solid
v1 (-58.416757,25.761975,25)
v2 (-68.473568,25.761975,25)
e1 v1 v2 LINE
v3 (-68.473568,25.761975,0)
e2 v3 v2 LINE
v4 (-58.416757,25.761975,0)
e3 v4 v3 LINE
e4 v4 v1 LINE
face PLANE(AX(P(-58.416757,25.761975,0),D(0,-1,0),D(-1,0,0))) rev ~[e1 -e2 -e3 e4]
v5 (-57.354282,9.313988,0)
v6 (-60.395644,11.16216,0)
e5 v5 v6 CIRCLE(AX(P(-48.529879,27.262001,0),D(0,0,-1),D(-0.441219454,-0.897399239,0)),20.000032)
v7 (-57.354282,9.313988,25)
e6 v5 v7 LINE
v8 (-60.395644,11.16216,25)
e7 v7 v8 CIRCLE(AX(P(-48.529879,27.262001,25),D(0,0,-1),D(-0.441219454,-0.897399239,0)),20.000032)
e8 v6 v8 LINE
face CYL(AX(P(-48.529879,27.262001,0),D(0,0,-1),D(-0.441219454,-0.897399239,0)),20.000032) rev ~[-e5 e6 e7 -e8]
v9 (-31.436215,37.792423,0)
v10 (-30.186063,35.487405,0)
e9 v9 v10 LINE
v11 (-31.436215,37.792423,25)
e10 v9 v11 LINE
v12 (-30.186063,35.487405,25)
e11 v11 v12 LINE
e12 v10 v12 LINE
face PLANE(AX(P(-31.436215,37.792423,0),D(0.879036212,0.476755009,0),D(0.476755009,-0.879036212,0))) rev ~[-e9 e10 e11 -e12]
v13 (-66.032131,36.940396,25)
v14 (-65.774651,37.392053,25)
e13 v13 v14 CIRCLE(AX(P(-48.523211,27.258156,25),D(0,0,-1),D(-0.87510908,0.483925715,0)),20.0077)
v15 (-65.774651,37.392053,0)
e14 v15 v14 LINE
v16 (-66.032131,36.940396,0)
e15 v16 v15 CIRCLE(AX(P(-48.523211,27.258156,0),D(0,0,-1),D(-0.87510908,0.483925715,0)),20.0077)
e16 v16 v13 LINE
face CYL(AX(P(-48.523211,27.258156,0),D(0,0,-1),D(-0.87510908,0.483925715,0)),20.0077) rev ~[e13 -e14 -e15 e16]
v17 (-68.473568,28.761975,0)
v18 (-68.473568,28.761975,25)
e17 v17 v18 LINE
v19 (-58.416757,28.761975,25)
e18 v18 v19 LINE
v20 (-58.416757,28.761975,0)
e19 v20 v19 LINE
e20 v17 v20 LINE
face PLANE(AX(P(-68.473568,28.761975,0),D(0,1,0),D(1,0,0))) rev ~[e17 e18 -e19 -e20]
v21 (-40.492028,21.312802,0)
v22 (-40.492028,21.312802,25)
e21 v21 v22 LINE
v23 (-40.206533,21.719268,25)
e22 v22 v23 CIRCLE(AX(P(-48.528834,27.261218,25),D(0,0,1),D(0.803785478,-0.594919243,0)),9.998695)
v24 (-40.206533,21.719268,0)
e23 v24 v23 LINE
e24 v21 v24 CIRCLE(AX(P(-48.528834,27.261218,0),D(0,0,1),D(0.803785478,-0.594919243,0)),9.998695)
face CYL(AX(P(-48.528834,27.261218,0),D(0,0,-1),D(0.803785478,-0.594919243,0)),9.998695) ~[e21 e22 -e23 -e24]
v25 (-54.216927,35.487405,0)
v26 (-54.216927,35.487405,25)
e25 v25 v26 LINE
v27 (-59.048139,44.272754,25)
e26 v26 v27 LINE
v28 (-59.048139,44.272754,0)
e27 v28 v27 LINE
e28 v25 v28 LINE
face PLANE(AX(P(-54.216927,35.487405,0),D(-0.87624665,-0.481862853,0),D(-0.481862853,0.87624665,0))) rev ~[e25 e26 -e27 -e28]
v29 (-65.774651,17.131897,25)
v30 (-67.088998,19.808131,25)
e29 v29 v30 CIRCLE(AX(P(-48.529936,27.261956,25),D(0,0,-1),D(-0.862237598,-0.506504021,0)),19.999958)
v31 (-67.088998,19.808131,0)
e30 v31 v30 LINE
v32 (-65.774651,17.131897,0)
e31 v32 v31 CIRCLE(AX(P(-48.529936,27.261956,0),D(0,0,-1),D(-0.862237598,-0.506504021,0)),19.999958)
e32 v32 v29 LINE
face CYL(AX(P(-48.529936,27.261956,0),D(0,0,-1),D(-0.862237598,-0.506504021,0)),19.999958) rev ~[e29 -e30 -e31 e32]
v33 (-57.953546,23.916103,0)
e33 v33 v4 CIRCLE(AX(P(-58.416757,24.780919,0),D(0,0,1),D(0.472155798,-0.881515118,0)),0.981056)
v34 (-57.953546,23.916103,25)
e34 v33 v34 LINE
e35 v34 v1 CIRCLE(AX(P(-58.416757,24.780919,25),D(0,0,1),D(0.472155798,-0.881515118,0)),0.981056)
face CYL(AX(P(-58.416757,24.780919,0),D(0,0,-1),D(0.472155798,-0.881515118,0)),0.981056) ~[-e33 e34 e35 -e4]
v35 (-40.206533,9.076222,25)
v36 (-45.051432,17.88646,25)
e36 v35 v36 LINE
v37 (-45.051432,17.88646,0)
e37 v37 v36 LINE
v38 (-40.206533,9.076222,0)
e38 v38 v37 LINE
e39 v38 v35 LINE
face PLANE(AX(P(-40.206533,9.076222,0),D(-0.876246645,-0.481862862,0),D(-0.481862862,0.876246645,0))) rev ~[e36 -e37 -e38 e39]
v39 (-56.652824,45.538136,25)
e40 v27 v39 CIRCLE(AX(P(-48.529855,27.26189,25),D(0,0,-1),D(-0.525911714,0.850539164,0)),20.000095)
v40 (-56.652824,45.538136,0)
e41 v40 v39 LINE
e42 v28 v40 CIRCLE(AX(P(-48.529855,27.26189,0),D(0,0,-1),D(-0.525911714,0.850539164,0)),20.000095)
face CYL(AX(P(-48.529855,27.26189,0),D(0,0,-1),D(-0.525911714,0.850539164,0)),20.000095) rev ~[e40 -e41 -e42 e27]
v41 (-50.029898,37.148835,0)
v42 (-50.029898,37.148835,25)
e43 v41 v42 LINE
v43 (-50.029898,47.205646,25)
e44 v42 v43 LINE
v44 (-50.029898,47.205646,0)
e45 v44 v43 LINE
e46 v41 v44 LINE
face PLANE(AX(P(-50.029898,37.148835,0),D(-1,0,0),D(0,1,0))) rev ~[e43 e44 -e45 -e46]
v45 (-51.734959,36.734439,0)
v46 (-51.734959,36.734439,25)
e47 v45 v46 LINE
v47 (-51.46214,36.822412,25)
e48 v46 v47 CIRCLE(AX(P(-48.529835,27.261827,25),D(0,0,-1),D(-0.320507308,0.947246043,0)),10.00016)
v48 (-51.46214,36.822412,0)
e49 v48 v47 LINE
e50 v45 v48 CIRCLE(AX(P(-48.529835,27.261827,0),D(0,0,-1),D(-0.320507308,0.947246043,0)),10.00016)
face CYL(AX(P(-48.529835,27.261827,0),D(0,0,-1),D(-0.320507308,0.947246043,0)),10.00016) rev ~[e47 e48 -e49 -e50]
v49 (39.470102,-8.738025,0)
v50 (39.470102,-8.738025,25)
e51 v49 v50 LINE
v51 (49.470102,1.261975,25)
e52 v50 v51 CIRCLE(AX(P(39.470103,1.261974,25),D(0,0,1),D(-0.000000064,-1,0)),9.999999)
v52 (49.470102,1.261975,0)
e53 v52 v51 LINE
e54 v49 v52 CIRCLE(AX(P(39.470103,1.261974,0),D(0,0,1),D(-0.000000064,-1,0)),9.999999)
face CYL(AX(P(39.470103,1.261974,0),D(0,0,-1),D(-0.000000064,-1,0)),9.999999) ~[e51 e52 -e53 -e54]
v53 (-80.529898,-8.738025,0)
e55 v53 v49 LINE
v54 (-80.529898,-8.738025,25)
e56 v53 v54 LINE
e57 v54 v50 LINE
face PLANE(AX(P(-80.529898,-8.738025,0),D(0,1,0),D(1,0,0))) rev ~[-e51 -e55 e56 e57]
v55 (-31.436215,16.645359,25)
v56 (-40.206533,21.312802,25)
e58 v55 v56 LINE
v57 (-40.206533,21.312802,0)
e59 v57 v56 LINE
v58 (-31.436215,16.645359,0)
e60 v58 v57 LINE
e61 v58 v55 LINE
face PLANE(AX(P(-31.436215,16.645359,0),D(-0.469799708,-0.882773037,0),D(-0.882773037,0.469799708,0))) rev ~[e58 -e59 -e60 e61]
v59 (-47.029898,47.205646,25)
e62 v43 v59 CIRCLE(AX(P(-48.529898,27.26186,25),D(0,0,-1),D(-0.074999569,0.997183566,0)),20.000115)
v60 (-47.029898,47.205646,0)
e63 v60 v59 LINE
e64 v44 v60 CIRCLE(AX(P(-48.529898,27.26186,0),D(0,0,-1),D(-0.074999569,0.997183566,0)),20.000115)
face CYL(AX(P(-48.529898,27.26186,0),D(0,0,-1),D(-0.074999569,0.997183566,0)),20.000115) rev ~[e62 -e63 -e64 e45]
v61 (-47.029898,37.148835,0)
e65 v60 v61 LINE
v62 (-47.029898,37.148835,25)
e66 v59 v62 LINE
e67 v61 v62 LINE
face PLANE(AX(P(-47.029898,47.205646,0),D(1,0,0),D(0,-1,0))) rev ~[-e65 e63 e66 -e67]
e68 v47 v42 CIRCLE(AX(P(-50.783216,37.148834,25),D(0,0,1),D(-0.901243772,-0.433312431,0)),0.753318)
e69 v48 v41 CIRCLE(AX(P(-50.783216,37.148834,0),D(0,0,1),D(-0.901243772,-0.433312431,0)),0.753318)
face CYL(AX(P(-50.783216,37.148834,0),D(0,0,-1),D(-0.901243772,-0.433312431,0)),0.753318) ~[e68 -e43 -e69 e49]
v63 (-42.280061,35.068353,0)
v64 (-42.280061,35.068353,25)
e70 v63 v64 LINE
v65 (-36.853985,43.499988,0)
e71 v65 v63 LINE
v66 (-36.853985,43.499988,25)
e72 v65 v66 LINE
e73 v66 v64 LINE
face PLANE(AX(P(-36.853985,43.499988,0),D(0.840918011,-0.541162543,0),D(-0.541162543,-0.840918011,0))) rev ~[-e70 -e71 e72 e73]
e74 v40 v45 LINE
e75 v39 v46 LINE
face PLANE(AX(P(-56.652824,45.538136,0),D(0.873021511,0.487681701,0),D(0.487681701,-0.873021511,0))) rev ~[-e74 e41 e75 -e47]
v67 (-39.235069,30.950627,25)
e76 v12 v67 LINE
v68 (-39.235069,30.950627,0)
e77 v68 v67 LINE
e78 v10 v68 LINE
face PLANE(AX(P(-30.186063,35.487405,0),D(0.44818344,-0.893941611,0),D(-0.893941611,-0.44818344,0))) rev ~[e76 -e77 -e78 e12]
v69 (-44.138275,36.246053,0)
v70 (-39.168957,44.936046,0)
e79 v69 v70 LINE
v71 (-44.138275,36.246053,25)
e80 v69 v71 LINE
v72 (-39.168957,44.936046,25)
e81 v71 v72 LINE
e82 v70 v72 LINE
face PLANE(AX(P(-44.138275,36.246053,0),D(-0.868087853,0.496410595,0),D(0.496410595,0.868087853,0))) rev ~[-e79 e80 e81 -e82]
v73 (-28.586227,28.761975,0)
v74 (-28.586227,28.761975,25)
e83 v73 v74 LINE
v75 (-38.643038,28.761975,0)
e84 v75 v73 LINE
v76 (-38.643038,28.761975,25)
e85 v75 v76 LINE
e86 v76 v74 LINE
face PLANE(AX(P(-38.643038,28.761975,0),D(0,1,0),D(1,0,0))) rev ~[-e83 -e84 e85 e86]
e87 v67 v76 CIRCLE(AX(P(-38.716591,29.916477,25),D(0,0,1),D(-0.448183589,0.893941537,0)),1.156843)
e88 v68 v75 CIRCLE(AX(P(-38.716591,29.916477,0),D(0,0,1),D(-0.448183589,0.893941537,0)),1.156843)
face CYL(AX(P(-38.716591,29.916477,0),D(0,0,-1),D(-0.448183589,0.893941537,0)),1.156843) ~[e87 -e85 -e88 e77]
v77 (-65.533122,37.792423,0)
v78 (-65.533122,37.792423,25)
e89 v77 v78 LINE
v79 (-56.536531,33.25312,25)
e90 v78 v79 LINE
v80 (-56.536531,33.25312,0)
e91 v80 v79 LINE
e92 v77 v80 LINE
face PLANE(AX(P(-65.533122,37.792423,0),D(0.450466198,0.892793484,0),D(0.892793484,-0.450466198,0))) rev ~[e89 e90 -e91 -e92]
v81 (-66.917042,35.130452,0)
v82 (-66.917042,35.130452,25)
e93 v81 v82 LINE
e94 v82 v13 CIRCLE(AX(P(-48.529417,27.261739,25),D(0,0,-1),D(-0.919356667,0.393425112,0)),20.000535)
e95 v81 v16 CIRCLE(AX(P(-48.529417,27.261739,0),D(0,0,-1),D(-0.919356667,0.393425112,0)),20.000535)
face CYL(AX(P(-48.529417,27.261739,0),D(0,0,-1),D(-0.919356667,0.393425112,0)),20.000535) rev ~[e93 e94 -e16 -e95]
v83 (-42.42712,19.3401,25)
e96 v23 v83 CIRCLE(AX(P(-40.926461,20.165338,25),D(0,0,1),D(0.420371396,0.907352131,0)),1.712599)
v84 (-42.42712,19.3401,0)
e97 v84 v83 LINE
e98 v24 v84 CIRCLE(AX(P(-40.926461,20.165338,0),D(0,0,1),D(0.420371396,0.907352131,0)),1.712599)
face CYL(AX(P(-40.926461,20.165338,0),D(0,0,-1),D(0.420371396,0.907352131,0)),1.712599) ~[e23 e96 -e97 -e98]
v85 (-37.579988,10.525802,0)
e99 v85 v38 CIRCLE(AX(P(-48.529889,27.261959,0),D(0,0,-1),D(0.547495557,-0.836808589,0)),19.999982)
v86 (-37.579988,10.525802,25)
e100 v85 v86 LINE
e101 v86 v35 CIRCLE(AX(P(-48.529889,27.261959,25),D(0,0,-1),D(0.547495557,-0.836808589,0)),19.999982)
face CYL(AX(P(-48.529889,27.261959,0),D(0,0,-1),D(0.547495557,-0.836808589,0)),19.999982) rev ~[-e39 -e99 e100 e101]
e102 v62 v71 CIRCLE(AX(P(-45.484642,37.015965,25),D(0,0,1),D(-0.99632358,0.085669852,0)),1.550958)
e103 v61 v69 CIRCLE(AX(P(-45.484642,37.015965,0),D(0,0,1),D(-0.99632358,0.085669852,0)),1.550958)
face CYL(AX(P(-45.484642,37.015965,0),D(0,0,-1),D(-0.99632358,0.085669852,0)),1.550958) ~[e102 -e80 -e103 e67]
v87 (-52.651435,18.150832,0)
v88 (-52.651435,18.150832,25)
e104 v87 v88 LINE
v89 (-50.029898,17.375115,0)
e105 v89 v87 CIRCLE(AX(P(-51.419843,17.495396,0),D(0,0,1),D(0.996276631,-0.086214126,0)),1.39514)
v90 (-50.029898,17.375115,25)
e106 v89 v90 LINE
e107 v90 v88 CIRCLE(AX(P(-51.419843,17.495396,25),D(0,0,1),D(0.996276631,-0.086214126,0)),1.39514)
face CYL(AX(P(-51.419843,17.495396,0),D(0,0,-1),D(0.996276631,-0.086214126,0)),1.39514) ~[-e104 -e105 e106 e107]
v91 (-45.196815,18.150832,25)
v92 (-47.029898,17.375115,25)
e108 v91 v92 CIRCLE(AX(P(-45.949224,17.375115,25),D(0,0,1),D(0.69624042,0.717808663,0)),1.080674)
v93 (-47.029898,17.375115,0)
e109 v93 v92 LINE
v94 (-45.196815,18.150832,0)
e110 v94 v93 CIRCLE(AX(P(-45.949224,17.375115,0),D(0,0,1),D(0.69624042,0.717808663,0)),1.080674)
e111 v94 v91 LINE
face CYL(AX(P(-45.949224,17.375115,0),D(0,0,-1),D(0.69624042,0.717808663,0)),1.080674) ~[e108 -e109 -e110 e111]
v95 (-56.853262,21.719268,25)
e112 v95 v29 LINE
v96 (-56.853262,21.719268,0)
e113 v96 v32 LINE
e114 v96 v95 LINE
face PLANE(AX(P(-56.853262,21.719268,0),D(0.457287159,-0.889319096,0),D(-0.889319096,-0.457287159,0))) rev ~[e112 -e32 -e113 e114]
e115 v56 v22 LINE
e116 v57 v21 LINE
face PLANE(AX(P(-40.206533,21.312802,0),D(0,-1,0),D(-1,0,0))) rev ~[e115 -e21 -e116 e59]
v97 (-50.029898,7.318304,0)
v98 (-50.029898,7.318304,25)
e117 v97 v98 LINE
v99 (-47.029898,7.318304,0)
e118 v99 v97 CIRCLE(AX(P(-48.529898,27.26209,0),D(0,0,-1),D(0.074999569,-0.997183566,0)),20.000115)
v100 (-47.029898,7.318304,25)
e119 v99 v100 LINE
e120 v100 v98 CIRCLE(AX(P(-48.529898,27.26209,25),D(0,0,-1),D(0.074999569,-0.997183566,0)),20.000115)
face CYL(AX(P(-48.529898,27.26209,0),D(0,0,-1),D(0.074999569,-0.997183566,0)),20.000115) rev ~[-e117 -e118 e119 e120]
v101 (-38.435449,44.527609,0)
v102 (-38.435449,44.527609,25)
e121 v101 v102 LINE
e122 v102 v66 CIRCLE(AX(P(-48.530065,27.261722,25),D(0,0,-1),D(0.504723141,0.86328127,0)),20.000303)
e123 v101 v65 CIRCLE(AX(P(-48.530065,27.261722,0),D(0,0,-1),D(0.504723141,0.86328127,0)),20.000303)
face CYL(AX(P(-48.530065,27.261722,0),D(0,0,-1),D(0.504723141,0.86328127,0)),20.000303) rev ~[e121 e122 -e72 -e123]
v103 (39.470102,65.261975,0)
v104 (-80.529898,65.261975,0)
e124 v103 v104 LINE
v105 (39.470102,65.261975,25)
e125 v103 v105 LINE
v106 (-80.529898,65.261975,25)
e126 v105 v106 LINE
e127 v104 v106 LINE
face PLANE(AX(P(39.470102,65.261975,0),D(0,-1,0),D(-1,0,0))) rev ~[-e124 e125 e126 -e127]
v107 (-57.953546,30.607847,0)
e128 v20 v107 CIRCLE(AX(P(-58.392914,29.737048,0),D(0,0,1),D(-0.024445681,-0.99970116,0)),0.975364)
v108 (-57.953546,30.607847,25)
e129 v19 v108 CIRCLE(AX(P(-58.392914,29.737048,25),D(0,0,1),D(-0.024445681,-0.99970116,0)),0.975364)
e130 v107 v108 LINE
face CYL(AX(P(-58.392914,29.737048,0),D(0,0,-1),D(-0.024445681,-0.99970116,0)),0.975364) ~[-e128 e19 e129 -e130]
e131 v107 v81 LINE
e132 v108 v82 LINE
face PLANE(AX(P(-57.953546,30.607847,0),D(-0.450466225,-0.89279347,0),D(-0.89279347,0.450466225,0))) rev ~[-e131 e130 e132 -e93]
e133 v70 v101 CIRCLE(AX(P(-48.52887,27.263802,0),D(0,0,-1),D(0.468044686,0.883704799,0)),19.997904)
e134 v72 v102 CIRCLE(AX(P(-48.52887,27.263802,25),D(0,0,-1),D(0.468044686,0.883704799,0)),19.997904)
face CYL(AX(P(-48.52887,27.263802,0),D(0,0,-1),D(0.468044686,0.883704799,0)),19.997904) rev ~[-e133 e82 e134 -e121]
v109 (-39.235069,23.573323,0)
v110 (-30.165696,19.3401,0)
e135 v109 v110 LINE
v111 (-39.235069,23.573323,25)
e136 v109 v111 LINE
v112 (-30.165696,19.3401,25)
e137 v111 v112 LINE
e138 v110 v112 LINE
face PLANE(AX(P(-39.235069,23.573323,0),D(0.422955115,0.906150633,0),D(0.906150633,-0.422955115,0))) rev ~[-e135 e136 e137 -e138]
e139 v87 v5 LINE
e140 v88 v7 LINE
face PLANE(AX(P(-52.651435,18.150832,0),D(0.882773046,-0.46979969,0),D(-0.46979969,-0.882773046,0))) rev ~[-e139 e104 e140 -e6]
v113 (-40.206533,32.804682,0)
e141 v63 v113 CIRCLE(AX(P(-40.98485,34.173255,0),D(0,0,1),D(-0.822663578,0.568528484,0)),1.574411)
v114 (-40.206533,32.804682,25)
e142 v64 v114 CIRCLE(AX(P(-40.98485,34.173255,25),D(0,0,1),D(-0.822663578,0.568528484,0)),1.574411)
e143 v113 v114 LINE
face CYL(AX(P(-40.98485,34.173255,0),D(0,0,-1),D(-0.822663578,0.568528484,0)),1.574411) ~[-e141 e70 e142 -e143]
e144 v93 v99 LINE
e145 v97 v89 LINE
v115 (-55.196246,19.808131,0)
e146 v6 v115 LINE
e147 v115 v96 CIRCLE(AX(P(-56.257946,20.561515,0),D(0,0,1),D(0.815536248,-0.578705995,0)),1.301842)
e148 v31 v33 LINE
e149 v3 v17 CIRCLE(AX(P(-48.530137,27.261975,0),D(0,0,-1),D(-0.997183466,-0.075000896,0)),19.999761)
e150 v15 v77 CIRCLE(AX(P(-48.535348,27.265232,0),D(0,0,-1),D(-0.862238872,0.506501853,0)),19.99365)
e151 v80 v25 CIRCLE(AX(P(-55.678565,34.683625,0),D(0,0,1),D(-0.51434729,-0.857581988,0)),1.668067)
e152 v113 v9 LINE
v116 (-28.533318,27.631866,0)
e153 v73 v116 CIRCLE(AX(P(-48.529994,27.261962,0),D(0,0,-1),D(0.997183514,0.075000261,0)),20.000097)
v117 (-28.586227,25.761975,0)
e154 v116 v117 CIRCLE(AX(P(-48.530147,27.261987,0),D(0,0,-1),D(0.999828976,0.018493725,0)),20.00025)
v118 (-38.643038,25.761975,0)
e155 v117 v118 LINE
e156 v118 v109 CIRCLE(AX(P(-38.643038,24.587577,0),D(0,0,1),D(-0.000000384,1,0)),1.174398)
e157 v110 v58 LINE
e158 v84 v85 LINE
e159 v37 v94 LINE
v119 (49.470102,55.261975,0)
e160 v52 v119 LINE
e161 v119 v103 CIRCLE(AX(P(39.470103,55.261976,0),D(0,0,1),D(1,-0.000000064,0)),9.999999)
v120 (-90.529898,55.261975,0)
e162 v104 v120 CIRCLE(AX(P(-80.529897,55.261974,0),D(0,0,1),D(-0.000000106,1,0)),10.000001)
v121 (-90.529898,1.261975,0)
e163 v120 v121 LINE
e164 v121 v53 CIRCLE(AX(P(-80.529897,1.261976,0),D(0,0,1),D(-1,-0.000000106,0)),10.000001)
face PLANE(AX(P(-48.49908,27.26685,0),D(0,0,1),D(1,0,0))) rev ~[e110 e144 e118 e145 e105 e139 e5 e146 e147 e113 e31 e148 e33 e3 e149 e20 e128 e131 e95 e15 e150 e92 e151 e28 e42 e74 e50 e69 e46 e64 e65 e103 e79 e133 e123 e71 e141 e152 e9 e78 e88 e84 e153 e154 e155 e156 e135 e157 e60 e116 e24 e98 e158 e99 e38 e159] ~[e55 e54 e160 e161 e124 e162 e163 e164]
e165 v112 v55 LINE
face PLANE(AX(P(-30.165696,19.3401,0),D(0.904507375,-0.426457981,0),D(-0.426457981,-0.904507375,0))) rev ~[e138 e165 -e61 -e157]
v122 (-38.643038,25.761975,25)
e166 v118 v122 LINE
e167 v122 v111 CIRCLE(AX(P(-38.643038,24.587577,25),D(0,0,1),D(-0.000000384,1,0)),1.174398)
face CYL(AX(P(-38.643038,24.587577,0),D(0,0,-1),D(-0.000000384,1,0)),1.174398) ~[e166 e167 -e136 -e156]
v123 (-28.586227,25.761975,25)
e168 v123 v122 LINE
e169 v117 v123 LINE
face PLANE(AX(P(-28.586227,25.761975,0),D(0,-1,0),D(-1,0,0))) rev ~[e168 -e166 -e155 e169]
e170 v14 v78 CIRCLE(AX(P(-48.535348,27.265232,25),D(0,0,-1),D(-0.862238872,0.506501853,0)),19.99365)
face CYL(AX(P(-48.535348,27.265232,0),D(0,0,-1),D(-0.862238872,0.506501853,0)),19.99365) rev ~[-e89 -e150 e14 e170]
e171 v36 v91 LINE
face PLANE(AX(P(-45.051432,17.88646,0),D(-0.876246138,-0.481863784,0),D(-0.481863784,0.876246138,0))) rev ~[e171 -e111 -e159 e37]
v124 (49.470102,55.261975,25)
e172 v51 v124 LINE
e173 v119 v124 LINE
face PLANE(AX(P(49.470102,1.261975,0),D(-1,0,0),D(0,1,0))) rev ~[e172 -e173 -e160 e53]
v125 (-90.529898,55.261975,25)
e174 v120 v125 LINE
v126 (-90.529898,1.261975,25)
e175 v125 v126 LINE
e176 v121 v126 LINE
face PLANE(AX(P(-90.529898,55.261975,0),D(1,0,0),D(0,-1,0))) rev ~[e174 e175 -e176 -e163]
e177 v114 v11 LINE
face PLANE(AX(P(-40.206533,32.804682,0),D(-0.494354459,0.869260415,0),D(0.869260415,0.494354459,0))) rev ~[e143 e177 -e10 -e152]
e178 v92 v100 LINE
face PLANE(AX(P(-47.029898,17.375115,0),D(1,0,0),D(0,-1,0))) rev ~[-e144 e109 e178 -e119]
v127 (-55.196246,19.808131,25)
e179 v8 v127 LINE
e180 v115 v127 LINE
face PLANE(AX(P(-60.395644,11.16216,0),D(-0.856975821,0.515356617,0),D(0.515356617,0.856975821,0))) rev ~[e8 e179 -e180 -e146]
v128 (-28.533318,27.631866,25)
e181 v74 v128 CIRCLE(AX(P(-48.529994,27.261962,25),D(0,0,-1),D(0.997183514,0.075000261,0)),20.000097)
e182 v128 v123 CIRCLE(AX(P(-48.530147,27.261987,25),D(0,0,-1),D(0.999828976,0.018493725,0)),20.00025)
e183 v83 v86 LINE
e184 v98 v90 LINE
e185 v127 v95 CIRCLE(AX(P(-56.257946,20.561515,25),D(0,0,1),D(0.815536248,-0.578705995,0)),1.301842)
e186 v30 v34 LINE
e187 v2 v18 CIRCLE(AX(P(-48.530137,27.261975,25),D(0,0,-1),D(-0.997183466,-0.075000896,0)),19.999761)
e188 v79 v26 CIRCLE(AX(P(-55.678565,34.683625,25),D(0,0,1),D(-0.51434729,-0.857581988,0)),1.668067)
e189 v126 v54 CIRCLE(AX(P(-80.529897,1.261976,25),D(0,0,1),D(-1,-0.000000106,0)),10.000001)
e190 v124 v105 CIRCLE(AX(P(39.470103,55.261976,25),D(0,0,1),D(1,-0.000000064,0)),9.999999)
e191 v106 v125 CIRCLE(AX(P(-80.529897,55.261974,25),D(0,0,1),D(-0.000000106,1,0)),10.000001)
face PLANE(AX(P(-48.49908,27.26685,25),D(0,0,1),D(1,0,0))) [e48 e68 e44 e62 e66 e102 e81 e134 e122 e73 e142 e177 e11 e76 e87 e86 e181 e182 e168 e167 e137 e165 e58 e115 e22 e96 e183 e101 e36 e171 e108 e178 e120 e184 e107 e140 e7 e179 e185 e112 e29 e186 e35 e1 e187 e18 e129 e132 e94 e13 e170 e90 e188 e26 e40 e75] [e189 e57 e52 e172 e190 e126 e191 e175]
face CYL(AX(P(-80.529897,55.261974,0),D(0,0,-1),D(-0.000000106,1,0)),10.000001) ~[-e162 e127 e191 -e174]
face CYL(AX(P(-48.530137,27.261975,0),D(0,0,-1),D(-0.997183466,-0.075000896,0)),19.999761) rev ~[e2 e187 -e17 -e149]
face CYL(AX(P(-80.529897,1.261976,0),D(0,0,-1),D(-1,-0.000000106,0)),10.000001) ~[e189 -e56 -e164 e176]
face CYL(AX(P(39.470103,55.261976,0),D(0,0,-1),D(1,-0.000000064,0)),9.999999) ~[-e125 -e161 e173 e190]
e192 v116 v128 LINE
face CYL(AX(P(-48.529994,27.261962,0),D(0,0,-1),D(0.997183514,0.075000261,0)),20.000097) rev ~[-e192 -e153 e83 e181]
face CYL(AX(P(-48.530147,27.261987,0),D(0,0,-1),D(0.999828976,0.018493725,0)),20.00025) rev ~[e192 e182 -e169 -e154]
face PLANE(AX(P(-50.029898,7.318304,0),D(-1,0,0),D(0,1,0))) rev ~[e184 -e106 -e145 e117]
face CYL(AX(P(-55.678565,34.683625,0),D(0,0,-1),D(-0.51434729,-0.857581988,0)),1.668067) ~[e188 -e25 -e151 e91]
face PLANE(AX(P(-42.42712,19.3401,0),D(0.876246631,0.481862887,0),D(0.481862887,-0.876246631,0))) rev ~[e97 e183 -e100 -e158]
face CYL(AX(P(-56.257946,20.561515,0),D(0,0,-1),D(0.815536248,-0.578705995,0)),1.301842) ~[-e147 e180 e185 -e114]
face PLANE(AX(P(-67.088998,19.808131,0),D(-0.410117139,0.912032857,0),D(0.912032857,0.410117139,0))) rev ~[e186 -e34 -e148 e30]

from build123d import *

# Parameters (mm, degrees)
F1_DEPTH = 25


with BuildPart() as f1:
    # F0 (on Top) → F1 (new body)
    with BuildSketch(Plane.XY):
        with BuildLine():
            ThreePointArc((-57.953546, 30.607847), (-57.446882, 29.499646), (-58.416757, 28.761975))
            ThreePointArc((-58.416757, 28.761975), (-58.529898, 27.261975), (-58.416757, 25.761975))
            ThreePointArc((-58.416757, 25.761975), (-57.465205, 25.019706), (-57.953546, 23.916103))
            ThreePointArc((-57.953546, 23.916103), (-57.47113, 22.783765), (-56.853262, 21.719268))
            ThreePointArc((-56.853262, 21.719268), (-55.274335, 21.414336), (-55.196246, 19.808131))
            ThreePointArc((-55.196246, 19.808131), (-53.98712, 18.882314), (-52.651435, 18.150832))
            ThreePointArc((-52.651435, 18.150832), (-51.023986, 18.833197), (-50.029898, 17.375115))
            ThreePointArc((-50.029898, 17.375115), (-48.529898, 17.261975), (-47.029898, 17.375115))
            ThreePointArc((-47.029898, 17.375115), (-46.370381, 18.370345), (-45.196815, 18.150832))
            Line((-45.196815, 18.150832), (-45.051432, 17.88646))
            ThreePointArc((-45.051432, 17.88646), (-43.684454, 18.514308), (-42.42712, 19.3401))
            ThreePointArc((-42.42712, 19.3401), (-42.178457, 21.333884), (-40.206533, 21.719268))
            ThreePointArc((-40.206533, 21.719268), (-39.672157, 22.620808), (-39.235069, 23.573323))
            ThreePointArc((-39.235069, 23.573323), (-39.776693, 24.894231), (-38.643038, 25.761975))
            ThreePointArc((-38.643038, 25.761975), (-38.529898, 27.261975), (-38.643038, 28.761975))
            ThreePointArc((-38.643038, 28.761975), (-39.8333, 29.614407), (-39.235069, 30.950627))
            ThreePointArc((-39.235069, 30.950627), (-39.672157, 31.903142), (-40.206533, 32.804682))
            ThreePointArc((-40.206533, 32.804682), (-42.145818, 33.109806), (-42.280061, 35.068353))
            ThreePointArc((-42.280061, 35.068353), (-43.176683, 35.708459), (-44.138275, 36.246053))
            ThreePointArc((-44.138275, 36.246053), (-45.946858, 35.535483), (-47.029898, 37.148835))
            ThreePointArc((-47.029898, 37.148835), (-48.529898, 37.261975), (-50.029898, 37.148835))
            ThreePointArc((-50.029898, 37.148835), (-50.61582, 36.41435), (-51.46214, 36.822412))
            ThreePointArc((-51.46214, 36.822412), (-51.598865, 36.779403), (-51.734959, 36.734439))
            ThreePointArc((-51.734959, 36.734439), (-52.416275, 36.475881), (-53.076951, 36.168394))
            ThreePointArc((-53.076951, 36.168394), (-53.658255, 35.846842), (-54.216927, 35.487405))
            ThreePointArc((-54.216927, 35.487405), (-54.521365, 33.482235), (-56.536531, 33.25312))
            ThreePointArc((-56.536531, 33.25312), (-57.344831, 31.98394), (-57.953546, 30.607847))
        make_face()
        Polygon((-48.936209, 27.612536), (-48.958612, 27.631866), (-48.914976, 27.631866), (-48.777016, 27.75746), (-48.560186, 27.954854), (-48.532724, 27.979855), (-48.532735, 27.904934), (-48.484508, 27.817237), (-48.317012, 27.512652), (-48.181242, 27.440397), (-48.256187, 27.402044), (-48.529898, 27.261975), (-48.946691, 27.048684), (-48.719861, 27.425874), align=None, mode=Mode.SUBTRACT)
        with BuildLine():
            Line((-31.436215, 37.792423), (-40.206533, 32.804682))
            ThreePointArc((-40.206533, 32.804682), (-39.672157, 31.903142), (-39.235069, 30.950627))
            Line((-39.235069, 30.950627), (-30.186063, 35.487405))
            Line((-30.186063, 35.487405), (-31.436215, 37.792423))
        make_face()
        with BuildLine():
            Line((39.470102, 65.261975), (-80.529898, 65.261975))
            ThreePointArc((-80.529898, 65.261975), (-87.600965, 62.333043), (-90.529898, 55.261975))
            Line((-90.529898, 55.261975), (-90.529898, 1.261975))
            ThreePointArc((-90.529898, 1.261975), (-87.600965, -5.809093), (-80.529898, -8.738025))
            Line((-80.529898, -8.738025), (39.470102, -8.738025))
            ThreePointArc((39.470102, -8.738025), (46.54117, -5.809093), (49.470102, 1.261975))
            Line((49.470102, 1.261975), (49.470102, 55.261975))
            ThreePointArc((49.470102, 55.261975), (46.54117, 62.333043), (39.470102, 65.261975))
        make_face()
        with BuildLine():
            Line((-68.473568, 28.761975), (-58.416757, 28.761975))
            ThreePointArc((-58.416757, 28.761975), (-57.446882, 29.499646), (-57.953546, 30.607847))
            Line((-57.953546, 30.607847), (-66.917042, 35.130452))
            ThreePointArc((-66.917042, 35.130452), (-66.497391, 36.046573), (-66.032131, 36.940396))
            ThreePointArc((-66.032131, 36.940396), (-65.904858, 37.167061), (-65.774651, 37.392053))
            ThreePointArc((-65.774651, 37.392053), (-65.655057, 37.592944), (-65.533122, 37.792423))
            Line((-65.533122, 37.792423), (-56.536531, 33.25312))
            ThreePointArc((-56.536531, 33.25312), (-54.521365, 33.482235), (-54.216927, 35.487405))
            Line((-54.216927, 35.487405), (-59.048139, 44.272754))
            ThreePointArc((-59.048139, 44.272754), (-57.871931, 44.946047), (-56.652824, 45.538136))
            Line((-56.652824, 45.538136), (-51.734959, 36.734439))
            ThreePointArc((-51.734959, 36.734439), (-51.598865, 36.779403), (-51.46214, 36.822412))
            ThreePointArc((-51.46214, 36.822412), (-50.61582, 36.41435), (-50.029898, 37.148835))
            Line((-50.029898, 37.148835), (-50.029898, 47.205646))
            ThreePointArc((-50.029898, 47.205646), (-48.529898, 47.261975), (-47.029898, 47.205646))
            Line((-47.029898, 47.205646), (-47.029898, 37.148835))
            ThreePointArc((-47.029898, 37.148835), (-45.946858, 35.535483), (-44.138275, 36.246053))
            Line((-44.138275, 36.246053), (-39.168957, 44.936046))
            ThreePointArc((-39.168957, 44.936046), (-38.800059, 44.735677), (-38.435449, 44.527609))
            ThreePointArc((-38.435449, 44.527609), (-37.632597, 44.03245), (-36.853985, 43.499988))
            Line((-36.853985, 43.499988), (-42.280061, 35.068353))
            ThreePointArc((-42.280061, 35.068353), (-42.145818, 33.109806), (-40.206533, 32.804682))
            Line((-40.206533, 32.804682), (-31.436215, 37.792423))
            Line((-31.436215, 37.792423), (-30.186063, 35.487405))
            Line((-30.186063, 35.487405), (-39.235069, 30.950627))
            ThreePointArc((-39.235069, 30.950627), (-39.8333, 29.614407), (-38.643038, 28.761975))
            Line((-38.643038, 28.761975), (-28.586227, 28.761975))
            ThreePointArc((-28.586227, 28.761975), (-28.55178, 28.197294), (-28.533318, 27.631866))
            ThreePointArc((-28.533318, 27.631866), (-28.537899, 26.696301), (-28.586227, 25.761975))
            Line((-28.586227, 25.761975), (-38.643038, 25.761975))
            ThreePointArc((-38.643038, 25.761975), (-39.776693, 24.894231), (-39.235069, 23.573323))
            Line((-39.235069, 23.573323), (-30.165696, 19.3401))
            Line((-30.165696, 19.3401), (-31.436215, 16.645359))
            Line((-31.436215, 16.645359), (-40.206533, 21.312802))
            Line((-40.206533, 21.312802), (-40.492028, 21.312802))
            ThreePointArc((-40.492028, 21.312802), (-40.346756, 21.514262), (-40.206533, 21.719268))
            ThreePointArc((-40.206533, 21.719268), (-42.178457, 21.333884), (-42.42712, 19.3401))
            Line((-42.42712, 19.3401), (-37.579988, 10.525802))
            ThreePointArc((-37.579988, 10.525802), (-38.866042, 9.751695), (-40.206533, 9.076222))
            Line((-40.206533, 9.076222), (-45.051432, 17.88646))
            Line((-45.051432, 17.88646), (-45.196815, 18.150832))
            ThreePointArc((-45.196815, 18.150832), (-46.370381, 18.370345), (-47.029898, 17.375115))
            Line((-47.029898, 17.375115), (-47.029898, 7.318304))
            ThreePointArc((-47.029898, 7.318304), (-48.529898, 7.261975), (-50.029898, 7.318304))
            Line((-50.029898, 7.318304), (-50.029898, 17.375115))
            ThreePointArc((-50.029898, 17.375115), (-51.023986, 18.833197), (-52.651435, 18.150832))
            Line((-52.651435, 18.150832), (-57.354282, 9.313988))
            ThreePointArc((-57.354282, 9.313988), (-58.916154, 10.170291), (-60.395644, 11.16216))
            Line((-60.395644, 11.16216), (-55.196246, 19.808131))
            ThreePointArc((-55.196246, 19.808131), (-55.274335, 21.414336), (-56.853262, 21.719268))
            Line((-56.853262, 21.719268), (-65.774651, 17.131897))
            ThreePointArc((-65.774651, 17.131897), (-66.481765, 18.445487), (-67.088998, 19.808131))
            Line((-67.088998, 19.808131), (-57.953546, 23.916103))
            ThreePointArc((-57.953546, 23.916103), (-57.465205, 25.019706), (-58.416757, 25.761975))
            Line((-58.416757, 25.761975), (-68.473568, 25.761975))
            ThreePointArc((-68.473568, 25.761975), (-68.529898, 27.261975), (-68.473568, 28.761975))
        make_face(mode=Mode.SUBTRACT)
    extrude(amount=F1_DEPTH)


solid = f1.part
